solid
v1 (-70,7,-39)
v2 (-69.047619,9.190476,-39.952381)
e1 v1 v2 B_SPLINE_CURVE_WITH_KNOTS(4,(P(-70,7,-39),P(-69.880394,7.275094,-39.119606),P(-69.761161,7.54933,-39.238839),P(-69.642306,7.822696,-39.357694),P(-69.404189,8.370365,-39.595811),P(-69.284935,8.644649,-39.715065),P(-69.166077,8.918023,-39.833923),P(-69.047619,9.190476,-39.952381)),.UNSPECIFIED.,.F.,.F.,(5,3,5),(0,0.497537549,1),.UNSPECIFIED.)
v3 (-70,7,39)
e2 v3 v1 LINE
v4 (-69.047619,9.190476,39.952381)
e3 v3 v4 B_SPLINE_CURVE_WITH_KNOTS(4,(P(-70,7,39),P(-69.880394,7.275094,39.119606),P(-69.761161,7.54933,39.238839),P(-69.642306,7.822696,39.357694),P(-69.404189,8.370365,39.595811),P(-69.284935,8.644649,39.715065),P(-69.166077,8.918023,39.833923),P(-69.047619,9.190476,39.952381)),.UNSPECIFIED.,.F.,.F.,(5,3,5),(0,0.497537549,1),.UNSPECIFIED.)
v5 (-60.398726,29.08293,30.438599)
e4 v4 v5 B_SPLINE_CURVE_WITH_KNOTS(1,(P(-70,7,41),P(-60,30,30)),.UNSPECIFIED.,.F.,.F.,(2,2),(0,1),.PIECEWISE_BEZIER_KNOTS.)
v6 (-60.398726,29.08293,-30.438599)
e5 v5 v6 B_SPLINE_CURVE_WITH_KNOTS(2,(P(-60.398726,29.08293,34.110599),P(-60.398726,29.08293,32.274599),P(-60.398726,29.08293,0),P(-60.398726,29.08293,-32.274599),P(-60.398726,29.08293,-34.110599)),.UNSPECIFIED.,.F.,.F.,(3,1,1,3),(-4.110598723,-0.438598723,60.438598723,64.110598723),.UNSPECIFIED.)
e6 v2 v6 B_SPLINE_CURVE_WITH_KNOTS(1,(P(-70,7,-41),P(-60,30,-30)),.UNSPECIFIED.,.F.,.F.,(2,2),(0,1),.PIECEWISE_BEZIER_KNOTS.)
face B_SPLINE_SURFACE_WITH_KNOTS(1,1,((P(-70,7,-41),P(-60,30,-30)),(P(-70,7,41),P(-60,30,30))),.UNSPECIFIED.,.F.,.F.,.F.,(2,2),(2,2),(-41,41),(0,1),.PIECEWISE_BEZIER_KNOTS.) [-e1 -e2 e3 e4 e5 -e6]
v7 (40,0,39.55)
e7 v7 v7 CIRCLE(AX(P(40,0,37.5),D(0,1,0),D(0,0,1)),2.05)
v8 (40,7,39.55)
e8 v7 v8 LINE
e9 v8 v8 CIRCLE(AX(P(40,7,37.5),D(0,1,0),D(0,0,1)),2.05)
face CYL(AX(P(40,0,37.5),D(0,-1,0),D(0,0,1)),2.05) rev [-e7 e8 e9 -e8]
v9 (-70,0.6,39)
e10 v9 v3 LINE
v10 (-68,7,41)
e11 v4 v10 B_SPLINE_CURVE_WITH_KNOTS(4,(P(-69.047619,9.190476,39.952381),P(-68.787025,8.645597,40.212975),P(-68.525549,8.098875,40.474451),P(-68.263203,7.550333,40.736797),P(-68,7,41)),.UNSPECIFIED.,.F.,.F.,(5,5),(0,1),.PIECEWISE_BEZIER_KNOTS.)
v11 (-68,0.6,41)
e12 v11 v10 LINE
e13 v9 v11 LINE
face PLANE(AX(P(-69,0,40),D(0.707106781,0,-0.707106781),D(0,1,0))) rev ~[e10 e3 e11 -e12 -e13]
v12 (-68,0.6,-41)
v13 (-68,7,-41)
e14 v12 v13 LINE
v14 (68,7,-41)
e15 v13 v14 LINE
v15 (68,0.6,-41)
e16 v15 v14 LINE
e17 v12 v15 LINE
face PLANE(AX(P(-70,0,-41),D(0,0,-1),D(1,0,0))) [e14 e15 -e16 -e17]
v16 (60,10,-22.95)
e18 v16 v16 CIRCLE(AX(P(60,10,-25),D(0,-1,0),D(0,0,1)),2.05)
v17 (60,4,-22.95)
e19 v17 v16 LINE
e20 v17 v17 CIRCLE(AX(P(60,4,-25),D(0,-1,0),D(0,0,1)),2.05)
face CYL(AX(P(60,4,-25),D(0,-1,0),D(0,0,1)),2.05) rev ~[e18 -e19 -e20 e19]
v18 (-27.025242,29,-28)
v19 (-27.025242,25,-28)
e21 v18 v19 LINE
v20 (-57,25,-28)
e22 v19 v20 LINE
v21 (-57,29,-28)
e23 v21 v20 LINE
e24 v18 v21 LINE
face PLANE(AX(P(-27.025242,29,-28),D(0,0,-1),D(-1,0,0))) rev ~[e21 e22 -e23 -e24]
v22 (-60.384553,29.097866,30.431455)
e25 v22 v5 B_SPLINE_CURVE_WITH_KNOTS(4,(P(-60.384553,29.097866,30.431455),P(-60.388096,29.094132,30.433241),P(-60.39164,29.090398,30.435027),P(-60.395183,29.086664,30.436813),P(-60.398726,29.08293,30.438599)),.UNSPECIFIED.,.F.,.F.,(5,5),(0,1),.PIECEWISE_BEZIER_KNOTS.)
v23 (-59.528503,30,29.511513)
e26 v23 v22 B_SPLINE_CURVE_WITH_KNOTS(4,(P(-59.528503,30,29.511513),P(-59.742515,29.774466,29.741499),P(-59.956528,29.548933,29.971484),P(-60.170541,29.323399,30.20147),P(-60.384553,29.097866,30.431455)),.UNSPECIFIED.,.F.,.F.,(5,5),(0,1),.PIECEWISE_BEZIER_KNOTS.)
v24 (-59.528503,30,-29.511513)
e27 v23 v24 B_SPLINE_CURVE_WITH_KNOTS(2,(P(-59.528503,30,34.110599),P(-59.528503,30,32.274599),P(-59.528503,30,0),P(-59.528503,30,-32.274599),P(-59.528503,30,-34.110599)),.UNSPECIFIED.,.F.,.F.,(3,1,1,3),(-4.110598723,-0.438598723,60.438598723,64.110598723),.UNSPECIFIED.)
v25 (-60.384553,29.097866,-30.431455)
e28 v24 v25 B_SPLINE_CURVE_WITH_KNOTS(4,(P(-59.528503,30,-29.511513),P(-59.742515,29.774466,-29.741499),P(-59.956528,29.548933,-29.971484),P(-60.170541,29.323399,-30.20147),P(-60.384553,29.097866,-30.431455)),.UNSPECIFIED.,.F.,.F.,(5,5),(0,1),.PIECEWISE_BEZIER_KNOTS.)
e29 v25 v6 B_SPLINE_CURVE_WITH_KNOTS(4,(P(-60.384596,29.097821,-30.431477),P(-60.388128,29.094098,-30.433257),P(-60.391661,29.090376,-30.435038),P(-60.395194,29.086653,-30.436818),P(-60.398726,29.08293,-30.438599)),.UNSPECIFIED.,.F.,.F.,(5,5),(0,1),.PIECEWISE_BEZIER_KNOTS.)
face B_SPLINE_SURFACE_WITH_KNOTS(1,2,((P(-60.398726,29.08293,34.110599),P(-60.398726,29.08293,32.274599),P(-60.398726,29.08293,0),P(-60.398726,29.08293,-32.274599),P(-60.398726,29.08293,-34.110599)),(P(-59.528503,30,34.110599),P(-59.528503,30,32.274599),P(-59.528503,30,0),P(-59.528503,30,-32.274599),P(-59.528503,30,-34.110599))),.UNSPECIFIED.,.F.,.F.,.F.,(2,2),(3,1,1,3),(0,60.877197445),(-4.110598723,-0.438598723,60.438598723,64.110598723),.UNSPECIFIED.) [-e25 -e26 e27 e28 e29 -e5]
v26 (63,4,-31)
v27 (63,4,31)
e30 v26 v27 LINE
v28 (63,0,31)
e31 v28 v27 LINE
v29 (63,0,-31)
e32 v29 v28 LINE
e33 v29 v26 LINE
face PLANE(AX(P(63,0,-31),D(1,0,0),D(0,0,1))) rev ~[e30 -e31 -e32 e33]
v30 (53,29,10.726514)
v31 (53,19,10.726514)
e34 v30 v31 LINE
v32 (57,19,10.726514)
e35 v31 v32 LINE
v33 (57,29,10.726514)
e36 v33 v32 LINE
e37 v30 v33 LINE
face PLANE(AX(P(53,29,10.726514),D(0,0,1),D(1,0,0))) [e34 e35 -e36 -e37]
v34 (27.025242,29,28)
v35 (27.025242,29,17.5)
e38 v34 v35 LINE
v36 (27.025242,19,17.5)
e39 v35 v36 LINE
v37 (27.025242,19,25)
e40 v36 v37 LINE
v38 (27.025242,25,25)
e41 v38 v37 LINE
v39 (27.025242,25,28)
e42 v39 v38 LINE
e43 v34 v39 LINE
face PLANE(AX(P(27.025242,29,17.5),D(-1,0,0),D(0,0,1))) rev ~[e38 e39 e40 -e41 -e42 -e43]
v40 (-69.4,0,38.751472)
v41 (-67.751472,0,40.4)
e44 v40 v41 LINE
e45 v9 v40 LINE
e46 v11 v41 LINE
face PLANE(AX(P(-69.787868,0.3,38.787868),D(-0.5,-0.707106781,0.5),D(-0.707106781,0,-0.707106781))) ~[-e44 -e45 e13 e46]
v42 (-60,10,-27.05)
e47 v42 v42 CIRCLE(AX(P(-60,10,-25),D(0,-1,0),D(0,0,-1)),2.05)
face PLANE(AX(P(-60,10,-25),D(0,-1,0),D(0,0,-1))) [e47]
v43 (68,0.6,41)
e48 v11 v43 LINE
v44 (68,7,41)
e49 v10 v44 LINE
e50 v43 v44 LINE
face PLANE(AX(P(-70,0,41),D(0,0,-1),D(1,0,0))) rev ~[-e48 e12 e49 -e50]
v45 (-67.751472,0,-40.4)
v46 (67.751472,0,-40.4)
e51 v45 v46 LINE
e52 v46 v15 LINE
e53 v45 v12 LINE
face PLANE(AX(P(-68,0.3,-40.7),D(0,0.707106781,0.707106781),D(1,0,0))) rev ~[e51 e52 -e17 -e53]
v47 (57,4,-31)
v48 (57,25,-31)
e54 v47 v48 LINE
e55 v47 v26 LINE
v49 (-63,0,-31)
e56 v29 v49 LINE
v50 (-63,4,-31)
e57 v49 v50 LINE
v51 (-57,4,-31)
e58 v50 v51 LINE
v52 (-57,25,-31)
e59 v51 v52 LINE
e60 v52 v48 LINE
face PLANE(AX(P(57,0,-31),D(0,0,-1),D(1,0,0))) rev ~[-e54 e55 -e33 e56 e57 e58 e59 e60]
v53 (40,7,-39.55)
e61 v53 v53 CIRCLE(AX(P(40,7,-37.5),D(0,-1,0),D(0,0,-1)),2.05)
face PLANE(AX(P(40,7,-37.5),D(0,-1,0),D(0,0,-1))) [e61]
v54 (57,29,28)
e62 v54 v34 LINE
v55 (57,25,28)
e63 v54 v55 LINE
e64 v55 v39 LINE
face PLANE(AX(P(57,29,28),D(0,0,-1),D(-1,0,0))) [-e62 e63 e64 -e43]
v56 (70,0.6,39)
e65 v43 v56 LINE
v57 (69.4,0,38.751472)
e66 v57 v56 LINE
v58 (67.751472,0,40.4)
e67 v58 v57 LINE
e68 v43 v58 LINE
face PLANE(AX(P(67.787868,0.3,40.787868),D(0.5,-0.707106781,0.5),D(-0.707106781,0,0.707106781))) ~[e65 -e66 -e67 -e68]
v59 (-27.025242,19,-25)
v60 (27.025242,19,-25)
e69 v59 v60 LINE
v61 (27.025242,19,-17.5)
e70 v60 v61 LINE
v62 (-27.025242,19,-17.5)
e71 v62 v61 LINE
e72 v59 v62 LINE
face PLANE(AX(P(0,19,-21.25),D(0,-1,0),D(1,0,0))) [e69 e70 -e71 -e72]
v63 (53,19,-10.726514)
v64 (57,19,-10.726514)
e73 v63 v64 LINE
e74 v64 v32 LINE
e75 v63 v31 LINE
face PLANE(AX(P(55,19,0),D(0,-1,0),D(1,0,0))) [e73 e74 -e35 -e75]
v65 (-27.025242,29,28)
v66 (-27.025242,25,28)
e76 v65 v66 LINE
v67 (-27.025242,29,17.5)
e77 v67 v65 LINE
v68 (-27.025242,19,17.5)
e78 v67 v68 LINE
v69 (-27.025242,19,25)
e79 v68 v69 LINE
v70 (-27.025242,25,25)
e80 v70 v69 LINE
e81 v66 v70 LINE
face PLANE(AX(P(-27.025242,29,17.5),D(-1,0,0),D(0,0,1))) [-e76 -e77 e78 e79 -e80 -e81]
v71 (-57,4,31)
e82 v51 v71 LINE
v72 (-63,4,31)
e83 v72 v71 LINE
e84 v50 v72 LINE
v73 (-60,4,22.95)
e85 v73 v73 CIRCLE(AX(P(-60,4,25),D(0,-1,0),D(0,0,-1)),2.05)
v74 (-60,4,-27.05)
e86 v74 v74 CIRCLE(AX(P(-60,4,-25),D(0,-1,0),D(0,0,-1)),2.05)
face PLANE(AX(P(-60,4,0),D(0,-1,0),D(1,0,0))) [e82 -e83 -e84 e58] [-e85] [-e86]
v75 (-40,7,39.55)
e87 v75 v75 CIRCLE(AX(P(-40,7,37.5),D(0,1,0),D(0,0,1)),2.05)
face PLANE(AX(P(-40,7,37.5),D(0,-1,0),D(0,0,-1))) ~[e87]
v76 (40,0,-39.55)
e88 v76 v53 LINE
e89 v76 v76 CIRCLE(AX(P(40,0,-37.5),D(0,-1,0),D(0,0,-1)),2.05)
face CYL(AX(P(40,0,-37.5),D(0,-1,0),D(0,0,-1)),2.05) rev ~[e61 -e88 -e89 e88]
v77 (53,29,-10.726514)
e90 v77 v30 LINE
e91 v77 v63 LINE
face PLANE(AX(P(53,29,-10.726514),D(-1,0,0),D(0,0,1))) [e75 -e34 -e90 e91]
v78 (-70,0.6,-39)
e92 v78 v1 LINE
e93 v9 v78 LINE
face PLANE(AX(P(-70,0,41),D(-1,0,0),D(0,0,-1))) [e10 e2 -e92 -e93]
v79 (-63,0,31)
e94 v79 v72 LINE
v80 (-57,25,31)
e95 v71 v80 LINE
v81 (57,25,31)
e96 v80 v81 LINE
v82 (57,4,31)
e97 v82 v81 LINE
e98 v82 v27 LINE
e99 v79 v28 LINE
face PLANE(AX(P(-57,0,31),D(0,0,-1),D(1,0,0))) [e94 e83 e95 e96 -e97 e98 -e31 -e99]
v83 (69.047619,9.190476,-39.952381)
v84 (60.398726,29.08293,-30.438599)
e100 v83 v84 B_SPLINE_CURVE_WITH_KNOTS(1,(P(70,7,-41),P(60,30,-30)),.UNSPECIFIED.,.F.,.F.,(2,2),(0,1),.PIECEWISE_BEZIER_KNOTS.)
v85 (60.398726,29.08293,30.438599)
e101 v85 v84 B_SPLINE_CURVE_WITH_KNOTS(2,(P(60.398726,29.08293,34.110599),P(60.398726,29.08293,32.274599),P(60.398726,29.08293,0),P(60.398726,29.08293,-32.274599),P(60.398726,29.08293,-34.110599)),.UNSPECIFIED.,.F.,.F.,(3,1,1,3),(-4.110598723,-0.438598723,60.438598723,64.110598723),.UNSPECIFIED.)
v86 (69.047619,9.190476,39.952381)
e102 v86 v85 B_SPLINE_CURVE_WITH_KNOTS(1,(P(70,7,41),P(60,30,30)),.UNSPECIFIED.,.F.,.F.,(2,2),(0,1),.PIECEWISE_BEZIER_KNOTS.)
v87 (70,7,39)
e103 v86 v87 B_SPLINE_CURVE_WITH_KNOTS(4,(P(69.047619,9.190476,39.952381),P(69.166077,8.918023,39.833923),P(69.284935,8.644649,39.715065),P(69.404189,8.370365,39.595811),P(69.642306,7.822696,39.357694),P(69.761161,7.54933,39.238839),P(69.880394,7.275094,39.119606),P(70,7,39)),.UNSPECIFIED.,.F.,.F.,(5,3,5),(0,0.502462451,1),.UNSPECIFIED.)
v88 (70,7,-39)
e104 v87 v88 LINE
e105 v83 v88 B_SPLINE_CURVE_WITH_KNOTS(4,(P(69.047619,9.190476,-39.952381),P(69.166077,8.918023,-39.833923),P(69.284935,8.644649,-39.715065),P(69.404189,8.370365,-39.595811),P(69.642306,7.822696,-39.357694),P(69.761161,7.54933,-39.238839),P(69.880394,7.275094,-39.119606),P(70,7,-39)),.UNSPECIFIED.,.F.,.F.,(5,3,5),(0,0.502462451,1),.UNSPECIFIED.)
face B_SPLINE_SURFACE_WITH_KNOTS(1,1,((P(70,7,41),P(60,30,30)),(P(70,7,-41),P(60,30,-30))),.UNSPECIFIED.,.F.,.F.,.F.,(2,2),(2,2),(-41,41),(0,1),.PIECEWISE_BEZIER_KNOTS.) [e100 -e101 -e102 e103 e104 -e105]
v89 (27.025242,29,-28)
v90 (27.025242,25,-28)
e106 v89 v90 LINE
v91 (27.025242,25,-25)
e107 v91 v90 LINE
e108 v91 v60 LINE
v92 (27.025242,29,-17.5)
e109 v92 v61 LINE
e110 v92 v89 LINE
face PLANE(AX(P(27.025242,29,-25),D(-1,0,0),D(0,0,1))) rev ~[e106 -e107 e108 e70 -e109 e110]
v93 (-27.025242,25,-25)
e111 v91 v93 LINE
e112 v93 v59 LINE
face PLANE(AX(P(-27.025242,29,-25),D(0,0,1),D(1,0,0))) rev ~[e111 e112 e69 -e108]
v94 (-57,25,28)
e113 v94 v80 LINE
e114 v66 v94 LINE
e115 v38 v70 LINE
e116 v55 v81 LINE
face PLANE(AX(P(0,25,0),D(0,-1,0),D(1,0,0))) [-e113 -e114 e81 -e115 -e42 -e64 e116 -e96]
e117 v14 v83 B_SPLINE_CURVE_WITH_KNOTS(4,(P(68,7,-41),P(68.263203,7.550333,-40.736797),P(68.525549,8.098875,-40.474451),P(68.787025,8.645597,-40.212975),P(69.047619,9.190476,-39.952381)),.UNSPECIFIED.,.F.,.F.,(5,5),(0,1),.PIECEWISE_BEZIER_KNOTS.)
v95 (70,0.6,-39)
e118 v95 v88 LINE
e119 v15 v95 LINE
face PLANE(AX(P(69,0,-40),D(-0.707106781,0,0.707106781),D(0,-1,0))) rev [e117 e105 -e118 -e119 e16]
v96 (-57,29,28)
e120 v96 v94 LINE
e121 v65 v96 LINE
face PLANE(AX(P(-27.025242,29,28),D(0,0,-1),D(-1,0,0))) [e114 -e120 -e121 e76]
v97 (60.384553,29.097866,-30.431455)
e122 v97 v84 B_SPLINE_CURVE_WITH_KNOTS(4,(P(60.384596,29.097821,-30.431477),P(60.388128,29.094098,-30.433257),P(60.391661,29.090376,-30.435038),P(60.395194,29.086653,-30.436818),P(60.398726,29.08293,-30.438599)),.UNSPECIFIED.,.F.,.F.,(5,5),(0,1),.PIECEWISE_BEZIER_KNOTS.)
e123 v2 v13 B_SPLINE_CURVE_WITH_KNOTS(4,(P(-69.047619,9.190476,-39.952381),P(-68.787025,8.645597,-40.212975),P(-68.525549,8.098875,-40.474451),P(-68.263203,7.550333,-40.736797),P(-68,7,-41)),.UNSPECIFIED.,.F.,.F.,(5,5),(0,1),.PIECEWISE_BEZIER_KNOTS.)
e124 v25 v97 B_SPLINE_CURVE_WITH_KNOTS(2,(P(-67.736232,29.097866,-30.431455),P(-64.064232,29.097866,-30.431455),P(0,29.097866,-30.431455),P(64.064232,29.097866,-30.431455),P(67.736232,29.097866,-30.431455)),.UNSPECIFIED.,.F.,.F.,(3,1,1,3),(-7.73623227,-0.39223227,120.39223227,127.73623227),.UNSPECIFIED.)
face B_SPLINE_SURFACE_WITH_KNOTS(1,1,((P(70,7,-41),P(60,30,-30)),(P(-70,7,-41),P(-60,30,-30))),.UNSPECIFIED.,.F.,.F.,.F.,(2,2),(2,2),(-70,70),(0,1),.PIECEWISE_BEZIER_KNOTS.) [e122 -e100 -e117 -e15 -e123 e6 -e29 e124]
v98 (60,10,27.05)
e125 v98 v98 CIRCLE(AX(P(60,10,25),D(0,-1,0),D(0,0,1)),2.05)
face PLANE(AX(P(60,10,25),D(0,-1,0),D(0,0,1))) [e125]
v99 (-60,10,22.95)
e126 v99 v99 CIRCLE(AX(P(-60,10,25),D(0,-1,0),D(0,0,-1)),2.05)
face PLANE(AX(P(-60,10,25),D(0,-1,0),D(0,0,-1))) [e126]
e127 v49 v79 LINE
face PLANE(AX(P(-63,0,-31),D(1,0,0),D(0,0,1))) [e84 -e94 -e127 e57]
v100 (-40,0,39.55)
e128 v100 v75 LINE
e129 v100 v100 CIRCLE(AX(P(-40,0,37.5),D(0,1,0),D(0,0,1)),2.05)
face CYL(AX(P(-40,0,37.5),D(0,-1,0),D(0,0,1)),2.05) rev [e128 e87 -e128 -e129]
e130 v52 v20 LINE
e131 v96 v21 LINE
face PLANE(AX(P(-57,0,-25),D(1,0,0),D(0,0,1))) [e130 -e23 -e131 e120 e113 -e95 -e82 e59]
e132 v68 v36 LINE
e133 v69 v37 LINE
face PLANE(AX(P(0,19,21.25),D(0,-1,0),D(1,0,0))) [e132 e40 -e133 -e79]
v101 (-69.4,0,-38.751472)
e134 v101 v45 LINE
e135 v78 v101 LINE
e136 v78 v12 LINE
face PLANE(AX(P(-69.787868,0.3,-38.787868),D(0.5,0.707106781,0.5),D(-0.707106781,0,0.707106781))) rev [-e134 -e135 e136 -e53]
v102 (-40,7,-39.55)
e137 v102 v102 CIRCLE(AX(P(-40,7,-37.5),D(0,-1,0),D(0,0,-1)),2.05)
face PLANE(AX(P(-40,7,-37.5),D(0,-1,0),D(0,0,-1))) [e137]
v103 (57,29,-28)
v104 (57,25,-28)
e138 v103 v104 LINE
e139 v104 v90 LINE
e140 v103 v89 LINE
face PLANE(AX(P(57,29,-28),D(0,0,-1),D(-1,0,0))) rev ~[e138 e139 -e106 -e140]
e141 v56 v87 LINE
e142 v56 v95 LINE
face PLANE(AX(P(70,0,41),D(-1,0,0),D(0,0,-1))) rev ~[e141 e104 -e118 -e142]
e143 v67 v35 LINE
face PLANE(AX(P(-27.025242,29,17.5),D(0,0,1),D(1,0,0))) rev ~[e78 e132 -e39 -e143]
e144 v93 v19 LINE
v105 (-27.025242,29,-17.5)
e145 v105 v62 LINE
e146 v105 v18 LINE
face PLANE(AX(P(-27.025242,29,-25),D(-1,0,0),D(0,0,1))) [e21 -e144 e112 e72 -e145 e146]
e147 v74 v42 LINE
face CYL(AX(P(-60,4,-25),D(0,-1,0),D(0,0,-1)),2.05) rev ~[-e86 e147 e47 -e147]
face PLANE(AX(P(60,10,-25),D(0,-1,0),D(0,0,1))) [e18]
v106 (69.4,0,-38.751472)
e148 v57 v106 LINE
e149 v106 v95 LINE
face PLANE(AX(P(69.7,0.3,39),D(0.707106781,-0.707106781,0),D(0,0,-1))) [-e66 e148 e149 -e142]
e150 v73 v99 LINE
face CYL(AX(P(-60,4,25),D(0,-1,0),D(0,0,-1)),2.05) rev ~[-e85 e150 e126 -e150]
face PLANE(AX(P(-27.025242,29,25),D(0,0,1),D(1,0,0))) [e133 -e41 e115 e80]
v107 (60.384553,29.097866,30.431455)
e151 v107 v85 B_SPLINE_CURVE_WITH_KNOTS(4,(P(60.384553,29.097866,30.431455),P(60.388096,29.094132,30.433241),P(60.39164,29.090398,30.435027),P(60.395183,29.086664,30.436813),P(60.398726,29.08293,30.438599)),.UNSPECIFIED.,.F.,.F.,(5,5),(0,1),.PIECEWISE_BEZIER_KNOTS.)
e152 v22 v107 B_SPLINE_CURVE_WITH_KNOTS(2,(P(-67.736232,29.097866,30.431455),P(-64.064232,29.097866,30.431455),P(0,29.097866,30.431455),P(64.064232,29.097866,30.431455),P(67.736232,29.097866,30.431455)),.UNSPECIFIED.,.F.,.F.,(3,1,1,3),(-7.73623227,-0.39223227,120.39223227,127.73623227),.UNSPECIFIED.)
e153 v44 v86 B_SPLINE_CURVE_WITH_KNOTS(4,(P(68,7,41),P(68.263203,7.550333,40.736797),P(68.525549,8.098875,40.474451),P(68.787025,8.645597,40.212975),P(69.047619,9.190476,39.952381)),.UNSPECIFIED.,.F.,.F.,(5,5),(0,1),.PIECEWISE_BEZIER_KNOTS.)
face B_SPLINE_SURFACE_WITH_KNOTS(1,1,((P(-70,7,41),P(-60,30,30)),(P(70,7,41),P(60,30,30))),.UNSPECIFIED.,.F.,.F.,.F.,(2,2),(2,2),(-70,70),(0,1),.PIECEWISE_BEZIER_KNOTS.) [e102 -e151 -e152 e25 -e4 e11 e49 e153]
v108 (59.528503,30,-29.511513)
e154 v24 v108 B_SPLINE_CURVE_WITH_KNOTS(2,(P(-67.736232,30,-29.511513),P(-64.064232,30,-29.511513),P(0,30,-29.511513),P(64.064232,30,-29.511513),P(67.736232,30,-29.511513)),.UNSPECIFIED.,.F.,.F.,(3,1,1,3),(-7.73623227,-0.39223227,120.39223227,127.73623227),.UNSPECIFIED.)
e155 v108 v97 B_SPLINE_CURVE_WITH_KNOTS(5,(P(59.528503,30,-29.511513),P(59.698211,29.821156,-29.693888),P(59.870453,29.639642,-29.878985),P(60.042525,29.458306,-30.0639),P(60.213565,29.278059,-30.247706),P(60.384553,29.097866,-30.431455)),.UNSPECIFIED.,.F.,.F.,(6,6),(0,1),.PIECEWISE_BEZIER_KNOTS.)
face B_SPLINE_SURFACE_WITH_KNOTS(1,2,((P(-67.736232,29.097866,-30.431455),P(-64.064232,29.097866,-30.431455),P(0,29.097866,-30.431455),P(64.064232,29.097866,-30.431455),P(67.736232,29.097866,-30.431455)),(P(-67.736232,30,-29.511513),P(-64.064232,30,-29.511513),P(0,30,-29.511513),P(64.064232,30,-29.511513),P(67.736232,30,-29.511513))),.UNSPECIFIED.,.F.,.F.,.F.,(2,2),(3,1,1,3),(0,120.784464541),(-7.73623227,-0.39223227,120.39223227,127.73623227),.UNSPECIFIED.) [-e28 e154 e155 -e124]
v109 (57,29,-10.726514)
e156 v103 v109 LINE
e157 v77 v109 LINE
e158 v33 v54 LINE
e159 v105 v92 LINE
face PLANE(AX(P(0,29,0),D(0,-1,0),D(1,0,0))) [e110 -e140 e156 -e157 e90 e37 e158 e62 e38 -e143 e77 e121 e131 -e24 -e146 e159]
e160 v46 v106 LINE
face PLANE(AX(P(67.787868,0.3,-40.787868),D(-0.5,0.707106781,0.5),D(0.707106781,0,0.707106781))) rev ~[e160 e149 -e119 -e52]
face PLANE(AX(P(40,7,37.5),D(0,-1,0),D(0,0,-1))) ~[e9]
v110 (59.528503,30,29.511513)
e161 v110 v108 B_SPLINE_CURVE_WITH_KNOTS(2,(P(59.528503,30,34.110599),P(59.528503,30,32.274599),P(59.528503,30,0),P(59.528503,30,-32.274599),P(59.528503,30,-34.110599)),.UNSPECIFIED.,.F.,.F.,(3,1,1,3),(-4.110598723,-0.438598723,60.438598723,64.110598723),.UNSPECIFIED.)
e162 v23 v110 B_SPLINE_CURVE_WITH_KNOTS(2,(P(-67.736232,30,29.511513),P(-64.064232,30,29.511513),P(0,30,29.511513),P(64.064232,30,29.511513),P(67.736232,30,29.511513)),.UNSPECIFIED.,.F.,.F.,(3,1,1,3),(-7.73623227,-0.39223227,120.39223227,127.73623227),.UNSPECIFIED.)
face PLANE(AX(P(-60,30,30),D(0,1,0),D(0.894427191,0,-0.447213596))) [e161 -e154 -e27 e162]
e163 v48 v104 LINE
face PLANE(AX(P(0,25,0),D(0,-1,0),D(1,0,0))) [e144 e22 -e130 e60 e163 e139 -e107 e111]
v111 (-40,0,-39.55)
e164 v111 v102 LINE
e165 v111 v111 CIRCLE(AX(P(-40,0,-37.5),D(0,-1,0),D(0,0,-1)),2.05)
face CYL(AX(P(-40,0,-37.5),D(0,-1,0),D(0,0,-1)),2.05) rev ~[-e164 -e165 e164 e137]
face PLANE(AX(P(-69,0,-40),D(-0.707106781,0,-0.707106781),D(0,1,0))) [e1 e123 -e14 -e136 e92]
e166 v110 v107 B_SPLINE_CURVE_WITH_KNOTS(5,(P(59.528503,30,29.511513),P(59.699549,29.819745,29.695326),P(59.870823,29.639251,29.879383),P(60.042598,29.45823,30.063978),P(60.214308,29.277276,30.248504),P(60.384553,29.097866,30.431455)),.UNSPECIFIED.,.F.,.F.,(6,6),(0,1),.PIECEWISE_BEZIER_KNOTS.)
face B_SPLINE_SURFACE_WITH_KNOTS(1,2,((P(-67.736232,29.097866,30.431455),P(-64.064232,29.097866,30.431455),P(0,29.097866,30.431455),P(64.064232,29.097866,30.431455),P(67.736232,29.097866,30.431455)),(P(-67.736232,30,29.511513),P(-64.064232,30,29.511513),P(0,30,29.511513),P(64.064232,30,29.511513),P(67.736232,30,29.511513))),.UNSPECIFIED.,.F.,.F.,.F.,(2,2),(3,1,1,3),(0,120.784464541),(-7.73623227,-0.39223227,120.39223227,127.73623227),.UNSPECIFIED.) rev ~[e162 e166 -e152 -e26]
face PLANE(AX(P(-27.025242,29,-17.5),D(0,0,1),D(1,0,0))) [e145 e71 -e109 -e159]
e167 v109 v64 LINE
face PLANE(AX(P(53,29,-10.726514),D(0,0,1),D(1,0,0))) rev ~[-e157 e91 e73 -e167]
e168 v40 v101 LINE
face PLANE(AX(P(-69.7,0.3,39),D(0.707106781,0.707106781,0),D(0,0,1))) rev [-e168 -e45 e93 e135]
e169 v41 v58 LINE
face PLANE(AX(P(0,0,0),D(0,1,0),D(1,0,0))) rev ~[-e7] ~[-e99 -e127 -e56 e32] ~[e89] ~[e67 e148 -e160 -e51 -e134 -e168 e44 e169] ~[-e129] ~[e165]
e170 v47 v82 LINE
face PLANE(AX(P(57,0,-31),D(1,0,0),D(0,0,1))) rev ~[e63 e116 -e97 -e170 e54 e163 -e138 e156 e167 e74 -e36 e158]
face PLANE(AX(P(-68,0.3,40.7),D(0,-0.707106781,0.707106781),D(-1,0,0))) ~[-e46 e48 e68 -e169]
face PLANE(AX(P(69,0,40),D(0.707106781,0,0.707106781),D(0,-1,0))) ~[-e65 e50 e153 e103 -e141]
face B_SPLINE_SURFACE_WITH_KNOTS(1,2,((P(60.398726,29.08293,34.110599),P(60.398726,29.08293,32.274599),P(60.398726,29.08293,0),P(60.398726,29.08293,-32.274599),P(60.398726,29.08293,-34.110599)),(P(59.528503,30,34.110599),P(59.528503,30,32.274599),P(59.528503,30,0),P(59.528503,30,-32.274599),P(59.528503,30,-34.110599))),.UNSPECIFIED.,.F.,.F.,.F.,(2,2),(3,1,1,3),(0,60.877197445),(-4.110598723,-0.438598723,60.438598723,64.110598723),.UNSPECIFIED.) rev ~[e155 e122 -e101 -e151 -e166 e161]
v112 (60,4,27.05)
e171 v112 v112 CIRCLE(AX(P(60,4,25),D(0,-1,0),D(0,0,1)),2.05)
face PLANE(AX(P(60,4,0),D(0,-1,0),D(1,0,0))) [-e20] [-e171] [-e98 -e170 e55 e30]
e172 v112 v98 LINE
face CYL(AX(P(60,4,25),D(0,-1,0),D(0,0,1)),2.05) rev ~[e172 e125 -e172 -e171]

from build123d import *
from OCP.BRepFilletAPI import BRepFilletAPI_MakeChamfer

# Parameters (mm, degrees)
SKETCH1_W                       = 140
SKETCH1_H                       = 82
BOSS_EXTRUDE1_DEPTH             = 7
SKETCH3_W                       = 140
SKETCH3_H                       = 82
SKETCH2_W                       = 120
SKETCH2_H                       = 60
CHAMFER1_SIZE                   = 2
SKETCH4_R                       = 2.05
CUT_EXTRUDE1_DEPTH              = 7
SKETCH5_W                       = 114
SKETCH5_H                       = 50
CUT_EXTRUDE2_DEPTH              = 29
SKETCH6_W                       = 114
SKETCH6_H                       = 62
CUT_EXTRUDE3_DEPTH              = 25
SKETCH7_W                       = 6
SKETCH7_H                       = 62
CUT_EXTRUDE4_DEPTH              = 4
SKETCH8_R                       = 2.05
CUT_EXTRUDE5_DEPTH              = 6
CHAMFER2_SIZE                   = 1
CHAMFER2_SIZE2                  = 0.471497246
CHAMFER2_SIZE2_2                = 0.488486876
CHAMFER3_SIZE                   = 0.6
SKIZZE1_W                       = 54.050484576
SKIZZE1_H                       = 7.5
SKIZZE1_W_2                     = 4
SKIZZE1_H_2                     = 21.453027382
AUFSATZ_LINEAR_AUSTRAGEN1_DEPTH = 10
SKIZZE3_W                       = 29.974757712
SKIZZE3_H                       = 3
SCHNITT_LINEAR_AUSTRAGEN2_DEPTH = 4


with BuildPart() as part:
    # Sketch1 → Boss-Extrude1 (new body)
    with BuildSketch(Plane(origin=(0, 0, 0), x_dir=(1, 0, 0), z_dir=(0, 1, 0))):
        Rectangle(SKETCH1_W, SKETCH1_H)
    extrude(amount=BOSS_EXTRUDE1_DEPTH)

    # Sketch3 → Loft2 section 0
    with BuildSketch(Plane(origin=(0, 7, 0), x_dir=(1, 0, 0), z_dir=(0, 1, 0))):
        Rectangle(SKETCH3_W, SKETCH3_H)
    # Sketch2 → Loft2 section 1
    with BuildSketch(Plane(origin=(0, 30, 0), x_dir=(1, 0, 0), z_dir=(0, 1, 0))):
        Rectangle(SKETCH2_W, SKETCH2_H)
    loft()

    # Chamfer1
    chamfer1_edges = [part.edges().sort_by_distance(p)[0] for p in [
        (-70, 3.5, 41),
        (70, 3.5, 41),
        (70, 3.5, -41),
        (-70, 3.5, -41),
    ]]
    chamfer(chamfer1_edges, length=CHAMFER1_SIZE)

    # Sketch4 → Cut-Extrude1 (cut)
    with BuildSketch(Plane.XZ):
        with Locations(Location((40, -37.5, 0), (0, 0, 270))):
            Circle(SKETCH4_R)
        with Locations(Location((-40, -37.5, 0), (0, 0, 270))):
            Circle(SKETCH4_R)
    cut_extrude1 = extrude(amount=-CUT_EXTRUDE1_DEPTH, mode=Mode.SUBTRACT)

    # Sketch5 → Cut-Extrude2 (cut)
    with BuildSketch(Plane.XZ):
        Rectangle(SKETCH5_W, SKETCH5_H)
    extrude(amount=-CUT_EXTRUDE2_DEPTH, mode=Mode.SUBTRACT)

    # Mirror1: Cut-Extrude1 across plane
    add(cut_extrude1.mirror(Plane.XY), mode=Mode.SUBTRACT)

    # Sketch6 → Cut-Extrude3 (cut)
    with BuildSketch(Plane.XZ):
        Rectangle(SKETCH6_W, SKETCH6_H)
    extrude(amount=-CUT_EXTRUDE3_DEPTH, mode=Mode.SUBTRACT)

    # Sketch7 → Cut-Extrude4 (cut)
    with BuildSketch(Plane.XZ):
        with Locations((-60, 0)):
            Rectangle(SKETCH7_W, SKETCH7_H)
        with Locations((60, 0)):
            Rectangle(SKETCH7_W, SKETCH7_H)
    extrude(amount=-CUT_EXTRUDE4_DEPTH, mode=Mode.SUBTRACT)

    # Sketch8 → Cut-Extrude5 (cut)
    with BuildSketch(Plane.XZ.offset(-4)):
        with Locations(Location((-60, 25, 0), (0, 0, 270))):
            Circle(SKETCH8_R)
        with Locations(Location((-60, -25, 0), (0, 0, 270))):
            Circle(SKETCH8_R)
        with Locations(Location((60, -25, 0), (0, 0, 90))):
            Circle(SKETCH8_R)
        with Locations(Location((60, 25, 0), (0, 0, 90))):
            Circle(SKETCH8_R)
    extrude(amount=-CUT_EXTRUDE5_DEPTH, mode=Mode.SUBTRACT)

    # Chamfer2: one chamfer whose edges measure the first distance from different faces: ONE call of the kernel's chamfer builder (chamfer() names one face for all edges)
    chamfer2_edges_1 = [part.edges().sort_by_distance(p)[0] for p in [
        (60, 30, 0),
    ]]
    chamfer2_side_1 = [part.faces().sort_by_distance(p)[0] for p in [
        (65.246314621, 17.933476372, 0),
    ]]
    chamfer2_edges_2 = [part.edges().sort_by_distance(p)[0] for p in [
        (0, 30, -30),
    ]]
    chamfer2_side_2 = [part.faces().sort_by_distance(p)[0] for p in [
        (0, 18.220498667, -35.633674551),
    ]]
    chamfer2_edges_3 = [part.edges().sort_by_distance(p)[0] for p in [
        (-60, 30, 0),
    ]]
    chamfer2_side_3 = [part.faces().sort_by_distance(p)[0] for p in [
        (-65.246314621, 17.933476372, 0),
    ]]
    chamfer2_edges_4 = [part.edges().sort_by_distance(p)[0] for p in [
        (0, 30, 30),
    ]]
    chamfer2_side_4 = [part.faces().sort_by_distance(p)[0] for p in [
        (0, 18.220498667, 35.633674551),
    ]]
    chamfer2 = BRepFilletAPI_MakeChamfer(part.part.solid().wrapped)
    for e in chamfer2_edges_1:
        chamfer2.Add(CHAMFER2_SIZE, CHAMFER2_SIZE2, e.wrapped, chamfer2_side_1[0].wrapped)  # the first distance lies on this face
    for e in chamfer2_edges_2:
        chamfer2.Add(CHAMFER2_SIZE, CHAMFER2_SIZE2_2, e.wrapped, chamfer2_side_2[0].wrapped)  # the first distance lies on this face
    for e in chamfer2_edges_3:
        chamfer2.Add(CHAMFER2_SIZE, CHAMFER2_SIZE2, e.wrapped, chamfer2_side_3[0].wrapped)  # the first distance lies on this face
    for e in chamfer2_edges_4:
        chamfer2.Add(CHAMFER2_SIZE, CHAMFER2_SIZE2_2, e.wrapped, chamfer2_side_4[0].wrapped)  # the first distance lies on this face
    add(Compound.cast(chamfer2.Shape()), mode=Mode.REPLACE)

    # Chamfer3
    chamfer3_edges = [part.edges().sort_by_distance(p)[0] for p in [
        (0, 0, 41),
        (70, 0, 0),
        (-70, 0, 0),
        (0, 0, -41),
        (-69, 0, -40),
        (69, 0, -40),
        (69, 0, 40),
        (-69, 0, 40),
    ]]
    chamfer(chamfer3_edges, length=CHAMFER3_SIZE)

    # Skizze1 → Aufsatz-Linear austragen1 (add)
    with BuildSketch(Plane.XZ.offset(-29)):
        with Locations((0, -21.25)):
            Rectangle(SKIZZE1_W, SKIZZE1_H)
        with Locations((0, 21.25)):
            Rectangle(SKIZZE1_W, SKIZZE1_H)
        with Locations((55, 0)):
            Rectangle(SKIZZE1_W_2, SKIZZE1_H_2)
    extrude(amount=AUFSATZ_LINEAR_AUSTRAGEN1_DEPTH)

    # Skizze3 → Schnitt-Linear austragen2 (cut)
    with BuildSketch(Plane(origin=(0, 29, 0), x_dir=(-1, 0, 0), z_dir=(0, -1, 0))):
        with Locations((42.012621144, -26.5)):
            Rectangle(SKIZZE3_W, SKIZZE3_H)
        with Locations((-42.012621144, -26.5)):
            Rectangle(SKIZZE3_W, SKIZZE3_H)
        with Locations((42.012621144, 26.5)):
            Rectangle(SKIZZE3_W, SKIZZE3_H)
        with Locations((-42.012621144, 26.5)):
            Rectangle(SKIZZE3_W, SKIZZE3_H)
    extrude(amount=SCHNITT_LINEAR_AUSTRAGEN2_DEPTH, mode=Mode.SUBTRACT)


solid = part.part
